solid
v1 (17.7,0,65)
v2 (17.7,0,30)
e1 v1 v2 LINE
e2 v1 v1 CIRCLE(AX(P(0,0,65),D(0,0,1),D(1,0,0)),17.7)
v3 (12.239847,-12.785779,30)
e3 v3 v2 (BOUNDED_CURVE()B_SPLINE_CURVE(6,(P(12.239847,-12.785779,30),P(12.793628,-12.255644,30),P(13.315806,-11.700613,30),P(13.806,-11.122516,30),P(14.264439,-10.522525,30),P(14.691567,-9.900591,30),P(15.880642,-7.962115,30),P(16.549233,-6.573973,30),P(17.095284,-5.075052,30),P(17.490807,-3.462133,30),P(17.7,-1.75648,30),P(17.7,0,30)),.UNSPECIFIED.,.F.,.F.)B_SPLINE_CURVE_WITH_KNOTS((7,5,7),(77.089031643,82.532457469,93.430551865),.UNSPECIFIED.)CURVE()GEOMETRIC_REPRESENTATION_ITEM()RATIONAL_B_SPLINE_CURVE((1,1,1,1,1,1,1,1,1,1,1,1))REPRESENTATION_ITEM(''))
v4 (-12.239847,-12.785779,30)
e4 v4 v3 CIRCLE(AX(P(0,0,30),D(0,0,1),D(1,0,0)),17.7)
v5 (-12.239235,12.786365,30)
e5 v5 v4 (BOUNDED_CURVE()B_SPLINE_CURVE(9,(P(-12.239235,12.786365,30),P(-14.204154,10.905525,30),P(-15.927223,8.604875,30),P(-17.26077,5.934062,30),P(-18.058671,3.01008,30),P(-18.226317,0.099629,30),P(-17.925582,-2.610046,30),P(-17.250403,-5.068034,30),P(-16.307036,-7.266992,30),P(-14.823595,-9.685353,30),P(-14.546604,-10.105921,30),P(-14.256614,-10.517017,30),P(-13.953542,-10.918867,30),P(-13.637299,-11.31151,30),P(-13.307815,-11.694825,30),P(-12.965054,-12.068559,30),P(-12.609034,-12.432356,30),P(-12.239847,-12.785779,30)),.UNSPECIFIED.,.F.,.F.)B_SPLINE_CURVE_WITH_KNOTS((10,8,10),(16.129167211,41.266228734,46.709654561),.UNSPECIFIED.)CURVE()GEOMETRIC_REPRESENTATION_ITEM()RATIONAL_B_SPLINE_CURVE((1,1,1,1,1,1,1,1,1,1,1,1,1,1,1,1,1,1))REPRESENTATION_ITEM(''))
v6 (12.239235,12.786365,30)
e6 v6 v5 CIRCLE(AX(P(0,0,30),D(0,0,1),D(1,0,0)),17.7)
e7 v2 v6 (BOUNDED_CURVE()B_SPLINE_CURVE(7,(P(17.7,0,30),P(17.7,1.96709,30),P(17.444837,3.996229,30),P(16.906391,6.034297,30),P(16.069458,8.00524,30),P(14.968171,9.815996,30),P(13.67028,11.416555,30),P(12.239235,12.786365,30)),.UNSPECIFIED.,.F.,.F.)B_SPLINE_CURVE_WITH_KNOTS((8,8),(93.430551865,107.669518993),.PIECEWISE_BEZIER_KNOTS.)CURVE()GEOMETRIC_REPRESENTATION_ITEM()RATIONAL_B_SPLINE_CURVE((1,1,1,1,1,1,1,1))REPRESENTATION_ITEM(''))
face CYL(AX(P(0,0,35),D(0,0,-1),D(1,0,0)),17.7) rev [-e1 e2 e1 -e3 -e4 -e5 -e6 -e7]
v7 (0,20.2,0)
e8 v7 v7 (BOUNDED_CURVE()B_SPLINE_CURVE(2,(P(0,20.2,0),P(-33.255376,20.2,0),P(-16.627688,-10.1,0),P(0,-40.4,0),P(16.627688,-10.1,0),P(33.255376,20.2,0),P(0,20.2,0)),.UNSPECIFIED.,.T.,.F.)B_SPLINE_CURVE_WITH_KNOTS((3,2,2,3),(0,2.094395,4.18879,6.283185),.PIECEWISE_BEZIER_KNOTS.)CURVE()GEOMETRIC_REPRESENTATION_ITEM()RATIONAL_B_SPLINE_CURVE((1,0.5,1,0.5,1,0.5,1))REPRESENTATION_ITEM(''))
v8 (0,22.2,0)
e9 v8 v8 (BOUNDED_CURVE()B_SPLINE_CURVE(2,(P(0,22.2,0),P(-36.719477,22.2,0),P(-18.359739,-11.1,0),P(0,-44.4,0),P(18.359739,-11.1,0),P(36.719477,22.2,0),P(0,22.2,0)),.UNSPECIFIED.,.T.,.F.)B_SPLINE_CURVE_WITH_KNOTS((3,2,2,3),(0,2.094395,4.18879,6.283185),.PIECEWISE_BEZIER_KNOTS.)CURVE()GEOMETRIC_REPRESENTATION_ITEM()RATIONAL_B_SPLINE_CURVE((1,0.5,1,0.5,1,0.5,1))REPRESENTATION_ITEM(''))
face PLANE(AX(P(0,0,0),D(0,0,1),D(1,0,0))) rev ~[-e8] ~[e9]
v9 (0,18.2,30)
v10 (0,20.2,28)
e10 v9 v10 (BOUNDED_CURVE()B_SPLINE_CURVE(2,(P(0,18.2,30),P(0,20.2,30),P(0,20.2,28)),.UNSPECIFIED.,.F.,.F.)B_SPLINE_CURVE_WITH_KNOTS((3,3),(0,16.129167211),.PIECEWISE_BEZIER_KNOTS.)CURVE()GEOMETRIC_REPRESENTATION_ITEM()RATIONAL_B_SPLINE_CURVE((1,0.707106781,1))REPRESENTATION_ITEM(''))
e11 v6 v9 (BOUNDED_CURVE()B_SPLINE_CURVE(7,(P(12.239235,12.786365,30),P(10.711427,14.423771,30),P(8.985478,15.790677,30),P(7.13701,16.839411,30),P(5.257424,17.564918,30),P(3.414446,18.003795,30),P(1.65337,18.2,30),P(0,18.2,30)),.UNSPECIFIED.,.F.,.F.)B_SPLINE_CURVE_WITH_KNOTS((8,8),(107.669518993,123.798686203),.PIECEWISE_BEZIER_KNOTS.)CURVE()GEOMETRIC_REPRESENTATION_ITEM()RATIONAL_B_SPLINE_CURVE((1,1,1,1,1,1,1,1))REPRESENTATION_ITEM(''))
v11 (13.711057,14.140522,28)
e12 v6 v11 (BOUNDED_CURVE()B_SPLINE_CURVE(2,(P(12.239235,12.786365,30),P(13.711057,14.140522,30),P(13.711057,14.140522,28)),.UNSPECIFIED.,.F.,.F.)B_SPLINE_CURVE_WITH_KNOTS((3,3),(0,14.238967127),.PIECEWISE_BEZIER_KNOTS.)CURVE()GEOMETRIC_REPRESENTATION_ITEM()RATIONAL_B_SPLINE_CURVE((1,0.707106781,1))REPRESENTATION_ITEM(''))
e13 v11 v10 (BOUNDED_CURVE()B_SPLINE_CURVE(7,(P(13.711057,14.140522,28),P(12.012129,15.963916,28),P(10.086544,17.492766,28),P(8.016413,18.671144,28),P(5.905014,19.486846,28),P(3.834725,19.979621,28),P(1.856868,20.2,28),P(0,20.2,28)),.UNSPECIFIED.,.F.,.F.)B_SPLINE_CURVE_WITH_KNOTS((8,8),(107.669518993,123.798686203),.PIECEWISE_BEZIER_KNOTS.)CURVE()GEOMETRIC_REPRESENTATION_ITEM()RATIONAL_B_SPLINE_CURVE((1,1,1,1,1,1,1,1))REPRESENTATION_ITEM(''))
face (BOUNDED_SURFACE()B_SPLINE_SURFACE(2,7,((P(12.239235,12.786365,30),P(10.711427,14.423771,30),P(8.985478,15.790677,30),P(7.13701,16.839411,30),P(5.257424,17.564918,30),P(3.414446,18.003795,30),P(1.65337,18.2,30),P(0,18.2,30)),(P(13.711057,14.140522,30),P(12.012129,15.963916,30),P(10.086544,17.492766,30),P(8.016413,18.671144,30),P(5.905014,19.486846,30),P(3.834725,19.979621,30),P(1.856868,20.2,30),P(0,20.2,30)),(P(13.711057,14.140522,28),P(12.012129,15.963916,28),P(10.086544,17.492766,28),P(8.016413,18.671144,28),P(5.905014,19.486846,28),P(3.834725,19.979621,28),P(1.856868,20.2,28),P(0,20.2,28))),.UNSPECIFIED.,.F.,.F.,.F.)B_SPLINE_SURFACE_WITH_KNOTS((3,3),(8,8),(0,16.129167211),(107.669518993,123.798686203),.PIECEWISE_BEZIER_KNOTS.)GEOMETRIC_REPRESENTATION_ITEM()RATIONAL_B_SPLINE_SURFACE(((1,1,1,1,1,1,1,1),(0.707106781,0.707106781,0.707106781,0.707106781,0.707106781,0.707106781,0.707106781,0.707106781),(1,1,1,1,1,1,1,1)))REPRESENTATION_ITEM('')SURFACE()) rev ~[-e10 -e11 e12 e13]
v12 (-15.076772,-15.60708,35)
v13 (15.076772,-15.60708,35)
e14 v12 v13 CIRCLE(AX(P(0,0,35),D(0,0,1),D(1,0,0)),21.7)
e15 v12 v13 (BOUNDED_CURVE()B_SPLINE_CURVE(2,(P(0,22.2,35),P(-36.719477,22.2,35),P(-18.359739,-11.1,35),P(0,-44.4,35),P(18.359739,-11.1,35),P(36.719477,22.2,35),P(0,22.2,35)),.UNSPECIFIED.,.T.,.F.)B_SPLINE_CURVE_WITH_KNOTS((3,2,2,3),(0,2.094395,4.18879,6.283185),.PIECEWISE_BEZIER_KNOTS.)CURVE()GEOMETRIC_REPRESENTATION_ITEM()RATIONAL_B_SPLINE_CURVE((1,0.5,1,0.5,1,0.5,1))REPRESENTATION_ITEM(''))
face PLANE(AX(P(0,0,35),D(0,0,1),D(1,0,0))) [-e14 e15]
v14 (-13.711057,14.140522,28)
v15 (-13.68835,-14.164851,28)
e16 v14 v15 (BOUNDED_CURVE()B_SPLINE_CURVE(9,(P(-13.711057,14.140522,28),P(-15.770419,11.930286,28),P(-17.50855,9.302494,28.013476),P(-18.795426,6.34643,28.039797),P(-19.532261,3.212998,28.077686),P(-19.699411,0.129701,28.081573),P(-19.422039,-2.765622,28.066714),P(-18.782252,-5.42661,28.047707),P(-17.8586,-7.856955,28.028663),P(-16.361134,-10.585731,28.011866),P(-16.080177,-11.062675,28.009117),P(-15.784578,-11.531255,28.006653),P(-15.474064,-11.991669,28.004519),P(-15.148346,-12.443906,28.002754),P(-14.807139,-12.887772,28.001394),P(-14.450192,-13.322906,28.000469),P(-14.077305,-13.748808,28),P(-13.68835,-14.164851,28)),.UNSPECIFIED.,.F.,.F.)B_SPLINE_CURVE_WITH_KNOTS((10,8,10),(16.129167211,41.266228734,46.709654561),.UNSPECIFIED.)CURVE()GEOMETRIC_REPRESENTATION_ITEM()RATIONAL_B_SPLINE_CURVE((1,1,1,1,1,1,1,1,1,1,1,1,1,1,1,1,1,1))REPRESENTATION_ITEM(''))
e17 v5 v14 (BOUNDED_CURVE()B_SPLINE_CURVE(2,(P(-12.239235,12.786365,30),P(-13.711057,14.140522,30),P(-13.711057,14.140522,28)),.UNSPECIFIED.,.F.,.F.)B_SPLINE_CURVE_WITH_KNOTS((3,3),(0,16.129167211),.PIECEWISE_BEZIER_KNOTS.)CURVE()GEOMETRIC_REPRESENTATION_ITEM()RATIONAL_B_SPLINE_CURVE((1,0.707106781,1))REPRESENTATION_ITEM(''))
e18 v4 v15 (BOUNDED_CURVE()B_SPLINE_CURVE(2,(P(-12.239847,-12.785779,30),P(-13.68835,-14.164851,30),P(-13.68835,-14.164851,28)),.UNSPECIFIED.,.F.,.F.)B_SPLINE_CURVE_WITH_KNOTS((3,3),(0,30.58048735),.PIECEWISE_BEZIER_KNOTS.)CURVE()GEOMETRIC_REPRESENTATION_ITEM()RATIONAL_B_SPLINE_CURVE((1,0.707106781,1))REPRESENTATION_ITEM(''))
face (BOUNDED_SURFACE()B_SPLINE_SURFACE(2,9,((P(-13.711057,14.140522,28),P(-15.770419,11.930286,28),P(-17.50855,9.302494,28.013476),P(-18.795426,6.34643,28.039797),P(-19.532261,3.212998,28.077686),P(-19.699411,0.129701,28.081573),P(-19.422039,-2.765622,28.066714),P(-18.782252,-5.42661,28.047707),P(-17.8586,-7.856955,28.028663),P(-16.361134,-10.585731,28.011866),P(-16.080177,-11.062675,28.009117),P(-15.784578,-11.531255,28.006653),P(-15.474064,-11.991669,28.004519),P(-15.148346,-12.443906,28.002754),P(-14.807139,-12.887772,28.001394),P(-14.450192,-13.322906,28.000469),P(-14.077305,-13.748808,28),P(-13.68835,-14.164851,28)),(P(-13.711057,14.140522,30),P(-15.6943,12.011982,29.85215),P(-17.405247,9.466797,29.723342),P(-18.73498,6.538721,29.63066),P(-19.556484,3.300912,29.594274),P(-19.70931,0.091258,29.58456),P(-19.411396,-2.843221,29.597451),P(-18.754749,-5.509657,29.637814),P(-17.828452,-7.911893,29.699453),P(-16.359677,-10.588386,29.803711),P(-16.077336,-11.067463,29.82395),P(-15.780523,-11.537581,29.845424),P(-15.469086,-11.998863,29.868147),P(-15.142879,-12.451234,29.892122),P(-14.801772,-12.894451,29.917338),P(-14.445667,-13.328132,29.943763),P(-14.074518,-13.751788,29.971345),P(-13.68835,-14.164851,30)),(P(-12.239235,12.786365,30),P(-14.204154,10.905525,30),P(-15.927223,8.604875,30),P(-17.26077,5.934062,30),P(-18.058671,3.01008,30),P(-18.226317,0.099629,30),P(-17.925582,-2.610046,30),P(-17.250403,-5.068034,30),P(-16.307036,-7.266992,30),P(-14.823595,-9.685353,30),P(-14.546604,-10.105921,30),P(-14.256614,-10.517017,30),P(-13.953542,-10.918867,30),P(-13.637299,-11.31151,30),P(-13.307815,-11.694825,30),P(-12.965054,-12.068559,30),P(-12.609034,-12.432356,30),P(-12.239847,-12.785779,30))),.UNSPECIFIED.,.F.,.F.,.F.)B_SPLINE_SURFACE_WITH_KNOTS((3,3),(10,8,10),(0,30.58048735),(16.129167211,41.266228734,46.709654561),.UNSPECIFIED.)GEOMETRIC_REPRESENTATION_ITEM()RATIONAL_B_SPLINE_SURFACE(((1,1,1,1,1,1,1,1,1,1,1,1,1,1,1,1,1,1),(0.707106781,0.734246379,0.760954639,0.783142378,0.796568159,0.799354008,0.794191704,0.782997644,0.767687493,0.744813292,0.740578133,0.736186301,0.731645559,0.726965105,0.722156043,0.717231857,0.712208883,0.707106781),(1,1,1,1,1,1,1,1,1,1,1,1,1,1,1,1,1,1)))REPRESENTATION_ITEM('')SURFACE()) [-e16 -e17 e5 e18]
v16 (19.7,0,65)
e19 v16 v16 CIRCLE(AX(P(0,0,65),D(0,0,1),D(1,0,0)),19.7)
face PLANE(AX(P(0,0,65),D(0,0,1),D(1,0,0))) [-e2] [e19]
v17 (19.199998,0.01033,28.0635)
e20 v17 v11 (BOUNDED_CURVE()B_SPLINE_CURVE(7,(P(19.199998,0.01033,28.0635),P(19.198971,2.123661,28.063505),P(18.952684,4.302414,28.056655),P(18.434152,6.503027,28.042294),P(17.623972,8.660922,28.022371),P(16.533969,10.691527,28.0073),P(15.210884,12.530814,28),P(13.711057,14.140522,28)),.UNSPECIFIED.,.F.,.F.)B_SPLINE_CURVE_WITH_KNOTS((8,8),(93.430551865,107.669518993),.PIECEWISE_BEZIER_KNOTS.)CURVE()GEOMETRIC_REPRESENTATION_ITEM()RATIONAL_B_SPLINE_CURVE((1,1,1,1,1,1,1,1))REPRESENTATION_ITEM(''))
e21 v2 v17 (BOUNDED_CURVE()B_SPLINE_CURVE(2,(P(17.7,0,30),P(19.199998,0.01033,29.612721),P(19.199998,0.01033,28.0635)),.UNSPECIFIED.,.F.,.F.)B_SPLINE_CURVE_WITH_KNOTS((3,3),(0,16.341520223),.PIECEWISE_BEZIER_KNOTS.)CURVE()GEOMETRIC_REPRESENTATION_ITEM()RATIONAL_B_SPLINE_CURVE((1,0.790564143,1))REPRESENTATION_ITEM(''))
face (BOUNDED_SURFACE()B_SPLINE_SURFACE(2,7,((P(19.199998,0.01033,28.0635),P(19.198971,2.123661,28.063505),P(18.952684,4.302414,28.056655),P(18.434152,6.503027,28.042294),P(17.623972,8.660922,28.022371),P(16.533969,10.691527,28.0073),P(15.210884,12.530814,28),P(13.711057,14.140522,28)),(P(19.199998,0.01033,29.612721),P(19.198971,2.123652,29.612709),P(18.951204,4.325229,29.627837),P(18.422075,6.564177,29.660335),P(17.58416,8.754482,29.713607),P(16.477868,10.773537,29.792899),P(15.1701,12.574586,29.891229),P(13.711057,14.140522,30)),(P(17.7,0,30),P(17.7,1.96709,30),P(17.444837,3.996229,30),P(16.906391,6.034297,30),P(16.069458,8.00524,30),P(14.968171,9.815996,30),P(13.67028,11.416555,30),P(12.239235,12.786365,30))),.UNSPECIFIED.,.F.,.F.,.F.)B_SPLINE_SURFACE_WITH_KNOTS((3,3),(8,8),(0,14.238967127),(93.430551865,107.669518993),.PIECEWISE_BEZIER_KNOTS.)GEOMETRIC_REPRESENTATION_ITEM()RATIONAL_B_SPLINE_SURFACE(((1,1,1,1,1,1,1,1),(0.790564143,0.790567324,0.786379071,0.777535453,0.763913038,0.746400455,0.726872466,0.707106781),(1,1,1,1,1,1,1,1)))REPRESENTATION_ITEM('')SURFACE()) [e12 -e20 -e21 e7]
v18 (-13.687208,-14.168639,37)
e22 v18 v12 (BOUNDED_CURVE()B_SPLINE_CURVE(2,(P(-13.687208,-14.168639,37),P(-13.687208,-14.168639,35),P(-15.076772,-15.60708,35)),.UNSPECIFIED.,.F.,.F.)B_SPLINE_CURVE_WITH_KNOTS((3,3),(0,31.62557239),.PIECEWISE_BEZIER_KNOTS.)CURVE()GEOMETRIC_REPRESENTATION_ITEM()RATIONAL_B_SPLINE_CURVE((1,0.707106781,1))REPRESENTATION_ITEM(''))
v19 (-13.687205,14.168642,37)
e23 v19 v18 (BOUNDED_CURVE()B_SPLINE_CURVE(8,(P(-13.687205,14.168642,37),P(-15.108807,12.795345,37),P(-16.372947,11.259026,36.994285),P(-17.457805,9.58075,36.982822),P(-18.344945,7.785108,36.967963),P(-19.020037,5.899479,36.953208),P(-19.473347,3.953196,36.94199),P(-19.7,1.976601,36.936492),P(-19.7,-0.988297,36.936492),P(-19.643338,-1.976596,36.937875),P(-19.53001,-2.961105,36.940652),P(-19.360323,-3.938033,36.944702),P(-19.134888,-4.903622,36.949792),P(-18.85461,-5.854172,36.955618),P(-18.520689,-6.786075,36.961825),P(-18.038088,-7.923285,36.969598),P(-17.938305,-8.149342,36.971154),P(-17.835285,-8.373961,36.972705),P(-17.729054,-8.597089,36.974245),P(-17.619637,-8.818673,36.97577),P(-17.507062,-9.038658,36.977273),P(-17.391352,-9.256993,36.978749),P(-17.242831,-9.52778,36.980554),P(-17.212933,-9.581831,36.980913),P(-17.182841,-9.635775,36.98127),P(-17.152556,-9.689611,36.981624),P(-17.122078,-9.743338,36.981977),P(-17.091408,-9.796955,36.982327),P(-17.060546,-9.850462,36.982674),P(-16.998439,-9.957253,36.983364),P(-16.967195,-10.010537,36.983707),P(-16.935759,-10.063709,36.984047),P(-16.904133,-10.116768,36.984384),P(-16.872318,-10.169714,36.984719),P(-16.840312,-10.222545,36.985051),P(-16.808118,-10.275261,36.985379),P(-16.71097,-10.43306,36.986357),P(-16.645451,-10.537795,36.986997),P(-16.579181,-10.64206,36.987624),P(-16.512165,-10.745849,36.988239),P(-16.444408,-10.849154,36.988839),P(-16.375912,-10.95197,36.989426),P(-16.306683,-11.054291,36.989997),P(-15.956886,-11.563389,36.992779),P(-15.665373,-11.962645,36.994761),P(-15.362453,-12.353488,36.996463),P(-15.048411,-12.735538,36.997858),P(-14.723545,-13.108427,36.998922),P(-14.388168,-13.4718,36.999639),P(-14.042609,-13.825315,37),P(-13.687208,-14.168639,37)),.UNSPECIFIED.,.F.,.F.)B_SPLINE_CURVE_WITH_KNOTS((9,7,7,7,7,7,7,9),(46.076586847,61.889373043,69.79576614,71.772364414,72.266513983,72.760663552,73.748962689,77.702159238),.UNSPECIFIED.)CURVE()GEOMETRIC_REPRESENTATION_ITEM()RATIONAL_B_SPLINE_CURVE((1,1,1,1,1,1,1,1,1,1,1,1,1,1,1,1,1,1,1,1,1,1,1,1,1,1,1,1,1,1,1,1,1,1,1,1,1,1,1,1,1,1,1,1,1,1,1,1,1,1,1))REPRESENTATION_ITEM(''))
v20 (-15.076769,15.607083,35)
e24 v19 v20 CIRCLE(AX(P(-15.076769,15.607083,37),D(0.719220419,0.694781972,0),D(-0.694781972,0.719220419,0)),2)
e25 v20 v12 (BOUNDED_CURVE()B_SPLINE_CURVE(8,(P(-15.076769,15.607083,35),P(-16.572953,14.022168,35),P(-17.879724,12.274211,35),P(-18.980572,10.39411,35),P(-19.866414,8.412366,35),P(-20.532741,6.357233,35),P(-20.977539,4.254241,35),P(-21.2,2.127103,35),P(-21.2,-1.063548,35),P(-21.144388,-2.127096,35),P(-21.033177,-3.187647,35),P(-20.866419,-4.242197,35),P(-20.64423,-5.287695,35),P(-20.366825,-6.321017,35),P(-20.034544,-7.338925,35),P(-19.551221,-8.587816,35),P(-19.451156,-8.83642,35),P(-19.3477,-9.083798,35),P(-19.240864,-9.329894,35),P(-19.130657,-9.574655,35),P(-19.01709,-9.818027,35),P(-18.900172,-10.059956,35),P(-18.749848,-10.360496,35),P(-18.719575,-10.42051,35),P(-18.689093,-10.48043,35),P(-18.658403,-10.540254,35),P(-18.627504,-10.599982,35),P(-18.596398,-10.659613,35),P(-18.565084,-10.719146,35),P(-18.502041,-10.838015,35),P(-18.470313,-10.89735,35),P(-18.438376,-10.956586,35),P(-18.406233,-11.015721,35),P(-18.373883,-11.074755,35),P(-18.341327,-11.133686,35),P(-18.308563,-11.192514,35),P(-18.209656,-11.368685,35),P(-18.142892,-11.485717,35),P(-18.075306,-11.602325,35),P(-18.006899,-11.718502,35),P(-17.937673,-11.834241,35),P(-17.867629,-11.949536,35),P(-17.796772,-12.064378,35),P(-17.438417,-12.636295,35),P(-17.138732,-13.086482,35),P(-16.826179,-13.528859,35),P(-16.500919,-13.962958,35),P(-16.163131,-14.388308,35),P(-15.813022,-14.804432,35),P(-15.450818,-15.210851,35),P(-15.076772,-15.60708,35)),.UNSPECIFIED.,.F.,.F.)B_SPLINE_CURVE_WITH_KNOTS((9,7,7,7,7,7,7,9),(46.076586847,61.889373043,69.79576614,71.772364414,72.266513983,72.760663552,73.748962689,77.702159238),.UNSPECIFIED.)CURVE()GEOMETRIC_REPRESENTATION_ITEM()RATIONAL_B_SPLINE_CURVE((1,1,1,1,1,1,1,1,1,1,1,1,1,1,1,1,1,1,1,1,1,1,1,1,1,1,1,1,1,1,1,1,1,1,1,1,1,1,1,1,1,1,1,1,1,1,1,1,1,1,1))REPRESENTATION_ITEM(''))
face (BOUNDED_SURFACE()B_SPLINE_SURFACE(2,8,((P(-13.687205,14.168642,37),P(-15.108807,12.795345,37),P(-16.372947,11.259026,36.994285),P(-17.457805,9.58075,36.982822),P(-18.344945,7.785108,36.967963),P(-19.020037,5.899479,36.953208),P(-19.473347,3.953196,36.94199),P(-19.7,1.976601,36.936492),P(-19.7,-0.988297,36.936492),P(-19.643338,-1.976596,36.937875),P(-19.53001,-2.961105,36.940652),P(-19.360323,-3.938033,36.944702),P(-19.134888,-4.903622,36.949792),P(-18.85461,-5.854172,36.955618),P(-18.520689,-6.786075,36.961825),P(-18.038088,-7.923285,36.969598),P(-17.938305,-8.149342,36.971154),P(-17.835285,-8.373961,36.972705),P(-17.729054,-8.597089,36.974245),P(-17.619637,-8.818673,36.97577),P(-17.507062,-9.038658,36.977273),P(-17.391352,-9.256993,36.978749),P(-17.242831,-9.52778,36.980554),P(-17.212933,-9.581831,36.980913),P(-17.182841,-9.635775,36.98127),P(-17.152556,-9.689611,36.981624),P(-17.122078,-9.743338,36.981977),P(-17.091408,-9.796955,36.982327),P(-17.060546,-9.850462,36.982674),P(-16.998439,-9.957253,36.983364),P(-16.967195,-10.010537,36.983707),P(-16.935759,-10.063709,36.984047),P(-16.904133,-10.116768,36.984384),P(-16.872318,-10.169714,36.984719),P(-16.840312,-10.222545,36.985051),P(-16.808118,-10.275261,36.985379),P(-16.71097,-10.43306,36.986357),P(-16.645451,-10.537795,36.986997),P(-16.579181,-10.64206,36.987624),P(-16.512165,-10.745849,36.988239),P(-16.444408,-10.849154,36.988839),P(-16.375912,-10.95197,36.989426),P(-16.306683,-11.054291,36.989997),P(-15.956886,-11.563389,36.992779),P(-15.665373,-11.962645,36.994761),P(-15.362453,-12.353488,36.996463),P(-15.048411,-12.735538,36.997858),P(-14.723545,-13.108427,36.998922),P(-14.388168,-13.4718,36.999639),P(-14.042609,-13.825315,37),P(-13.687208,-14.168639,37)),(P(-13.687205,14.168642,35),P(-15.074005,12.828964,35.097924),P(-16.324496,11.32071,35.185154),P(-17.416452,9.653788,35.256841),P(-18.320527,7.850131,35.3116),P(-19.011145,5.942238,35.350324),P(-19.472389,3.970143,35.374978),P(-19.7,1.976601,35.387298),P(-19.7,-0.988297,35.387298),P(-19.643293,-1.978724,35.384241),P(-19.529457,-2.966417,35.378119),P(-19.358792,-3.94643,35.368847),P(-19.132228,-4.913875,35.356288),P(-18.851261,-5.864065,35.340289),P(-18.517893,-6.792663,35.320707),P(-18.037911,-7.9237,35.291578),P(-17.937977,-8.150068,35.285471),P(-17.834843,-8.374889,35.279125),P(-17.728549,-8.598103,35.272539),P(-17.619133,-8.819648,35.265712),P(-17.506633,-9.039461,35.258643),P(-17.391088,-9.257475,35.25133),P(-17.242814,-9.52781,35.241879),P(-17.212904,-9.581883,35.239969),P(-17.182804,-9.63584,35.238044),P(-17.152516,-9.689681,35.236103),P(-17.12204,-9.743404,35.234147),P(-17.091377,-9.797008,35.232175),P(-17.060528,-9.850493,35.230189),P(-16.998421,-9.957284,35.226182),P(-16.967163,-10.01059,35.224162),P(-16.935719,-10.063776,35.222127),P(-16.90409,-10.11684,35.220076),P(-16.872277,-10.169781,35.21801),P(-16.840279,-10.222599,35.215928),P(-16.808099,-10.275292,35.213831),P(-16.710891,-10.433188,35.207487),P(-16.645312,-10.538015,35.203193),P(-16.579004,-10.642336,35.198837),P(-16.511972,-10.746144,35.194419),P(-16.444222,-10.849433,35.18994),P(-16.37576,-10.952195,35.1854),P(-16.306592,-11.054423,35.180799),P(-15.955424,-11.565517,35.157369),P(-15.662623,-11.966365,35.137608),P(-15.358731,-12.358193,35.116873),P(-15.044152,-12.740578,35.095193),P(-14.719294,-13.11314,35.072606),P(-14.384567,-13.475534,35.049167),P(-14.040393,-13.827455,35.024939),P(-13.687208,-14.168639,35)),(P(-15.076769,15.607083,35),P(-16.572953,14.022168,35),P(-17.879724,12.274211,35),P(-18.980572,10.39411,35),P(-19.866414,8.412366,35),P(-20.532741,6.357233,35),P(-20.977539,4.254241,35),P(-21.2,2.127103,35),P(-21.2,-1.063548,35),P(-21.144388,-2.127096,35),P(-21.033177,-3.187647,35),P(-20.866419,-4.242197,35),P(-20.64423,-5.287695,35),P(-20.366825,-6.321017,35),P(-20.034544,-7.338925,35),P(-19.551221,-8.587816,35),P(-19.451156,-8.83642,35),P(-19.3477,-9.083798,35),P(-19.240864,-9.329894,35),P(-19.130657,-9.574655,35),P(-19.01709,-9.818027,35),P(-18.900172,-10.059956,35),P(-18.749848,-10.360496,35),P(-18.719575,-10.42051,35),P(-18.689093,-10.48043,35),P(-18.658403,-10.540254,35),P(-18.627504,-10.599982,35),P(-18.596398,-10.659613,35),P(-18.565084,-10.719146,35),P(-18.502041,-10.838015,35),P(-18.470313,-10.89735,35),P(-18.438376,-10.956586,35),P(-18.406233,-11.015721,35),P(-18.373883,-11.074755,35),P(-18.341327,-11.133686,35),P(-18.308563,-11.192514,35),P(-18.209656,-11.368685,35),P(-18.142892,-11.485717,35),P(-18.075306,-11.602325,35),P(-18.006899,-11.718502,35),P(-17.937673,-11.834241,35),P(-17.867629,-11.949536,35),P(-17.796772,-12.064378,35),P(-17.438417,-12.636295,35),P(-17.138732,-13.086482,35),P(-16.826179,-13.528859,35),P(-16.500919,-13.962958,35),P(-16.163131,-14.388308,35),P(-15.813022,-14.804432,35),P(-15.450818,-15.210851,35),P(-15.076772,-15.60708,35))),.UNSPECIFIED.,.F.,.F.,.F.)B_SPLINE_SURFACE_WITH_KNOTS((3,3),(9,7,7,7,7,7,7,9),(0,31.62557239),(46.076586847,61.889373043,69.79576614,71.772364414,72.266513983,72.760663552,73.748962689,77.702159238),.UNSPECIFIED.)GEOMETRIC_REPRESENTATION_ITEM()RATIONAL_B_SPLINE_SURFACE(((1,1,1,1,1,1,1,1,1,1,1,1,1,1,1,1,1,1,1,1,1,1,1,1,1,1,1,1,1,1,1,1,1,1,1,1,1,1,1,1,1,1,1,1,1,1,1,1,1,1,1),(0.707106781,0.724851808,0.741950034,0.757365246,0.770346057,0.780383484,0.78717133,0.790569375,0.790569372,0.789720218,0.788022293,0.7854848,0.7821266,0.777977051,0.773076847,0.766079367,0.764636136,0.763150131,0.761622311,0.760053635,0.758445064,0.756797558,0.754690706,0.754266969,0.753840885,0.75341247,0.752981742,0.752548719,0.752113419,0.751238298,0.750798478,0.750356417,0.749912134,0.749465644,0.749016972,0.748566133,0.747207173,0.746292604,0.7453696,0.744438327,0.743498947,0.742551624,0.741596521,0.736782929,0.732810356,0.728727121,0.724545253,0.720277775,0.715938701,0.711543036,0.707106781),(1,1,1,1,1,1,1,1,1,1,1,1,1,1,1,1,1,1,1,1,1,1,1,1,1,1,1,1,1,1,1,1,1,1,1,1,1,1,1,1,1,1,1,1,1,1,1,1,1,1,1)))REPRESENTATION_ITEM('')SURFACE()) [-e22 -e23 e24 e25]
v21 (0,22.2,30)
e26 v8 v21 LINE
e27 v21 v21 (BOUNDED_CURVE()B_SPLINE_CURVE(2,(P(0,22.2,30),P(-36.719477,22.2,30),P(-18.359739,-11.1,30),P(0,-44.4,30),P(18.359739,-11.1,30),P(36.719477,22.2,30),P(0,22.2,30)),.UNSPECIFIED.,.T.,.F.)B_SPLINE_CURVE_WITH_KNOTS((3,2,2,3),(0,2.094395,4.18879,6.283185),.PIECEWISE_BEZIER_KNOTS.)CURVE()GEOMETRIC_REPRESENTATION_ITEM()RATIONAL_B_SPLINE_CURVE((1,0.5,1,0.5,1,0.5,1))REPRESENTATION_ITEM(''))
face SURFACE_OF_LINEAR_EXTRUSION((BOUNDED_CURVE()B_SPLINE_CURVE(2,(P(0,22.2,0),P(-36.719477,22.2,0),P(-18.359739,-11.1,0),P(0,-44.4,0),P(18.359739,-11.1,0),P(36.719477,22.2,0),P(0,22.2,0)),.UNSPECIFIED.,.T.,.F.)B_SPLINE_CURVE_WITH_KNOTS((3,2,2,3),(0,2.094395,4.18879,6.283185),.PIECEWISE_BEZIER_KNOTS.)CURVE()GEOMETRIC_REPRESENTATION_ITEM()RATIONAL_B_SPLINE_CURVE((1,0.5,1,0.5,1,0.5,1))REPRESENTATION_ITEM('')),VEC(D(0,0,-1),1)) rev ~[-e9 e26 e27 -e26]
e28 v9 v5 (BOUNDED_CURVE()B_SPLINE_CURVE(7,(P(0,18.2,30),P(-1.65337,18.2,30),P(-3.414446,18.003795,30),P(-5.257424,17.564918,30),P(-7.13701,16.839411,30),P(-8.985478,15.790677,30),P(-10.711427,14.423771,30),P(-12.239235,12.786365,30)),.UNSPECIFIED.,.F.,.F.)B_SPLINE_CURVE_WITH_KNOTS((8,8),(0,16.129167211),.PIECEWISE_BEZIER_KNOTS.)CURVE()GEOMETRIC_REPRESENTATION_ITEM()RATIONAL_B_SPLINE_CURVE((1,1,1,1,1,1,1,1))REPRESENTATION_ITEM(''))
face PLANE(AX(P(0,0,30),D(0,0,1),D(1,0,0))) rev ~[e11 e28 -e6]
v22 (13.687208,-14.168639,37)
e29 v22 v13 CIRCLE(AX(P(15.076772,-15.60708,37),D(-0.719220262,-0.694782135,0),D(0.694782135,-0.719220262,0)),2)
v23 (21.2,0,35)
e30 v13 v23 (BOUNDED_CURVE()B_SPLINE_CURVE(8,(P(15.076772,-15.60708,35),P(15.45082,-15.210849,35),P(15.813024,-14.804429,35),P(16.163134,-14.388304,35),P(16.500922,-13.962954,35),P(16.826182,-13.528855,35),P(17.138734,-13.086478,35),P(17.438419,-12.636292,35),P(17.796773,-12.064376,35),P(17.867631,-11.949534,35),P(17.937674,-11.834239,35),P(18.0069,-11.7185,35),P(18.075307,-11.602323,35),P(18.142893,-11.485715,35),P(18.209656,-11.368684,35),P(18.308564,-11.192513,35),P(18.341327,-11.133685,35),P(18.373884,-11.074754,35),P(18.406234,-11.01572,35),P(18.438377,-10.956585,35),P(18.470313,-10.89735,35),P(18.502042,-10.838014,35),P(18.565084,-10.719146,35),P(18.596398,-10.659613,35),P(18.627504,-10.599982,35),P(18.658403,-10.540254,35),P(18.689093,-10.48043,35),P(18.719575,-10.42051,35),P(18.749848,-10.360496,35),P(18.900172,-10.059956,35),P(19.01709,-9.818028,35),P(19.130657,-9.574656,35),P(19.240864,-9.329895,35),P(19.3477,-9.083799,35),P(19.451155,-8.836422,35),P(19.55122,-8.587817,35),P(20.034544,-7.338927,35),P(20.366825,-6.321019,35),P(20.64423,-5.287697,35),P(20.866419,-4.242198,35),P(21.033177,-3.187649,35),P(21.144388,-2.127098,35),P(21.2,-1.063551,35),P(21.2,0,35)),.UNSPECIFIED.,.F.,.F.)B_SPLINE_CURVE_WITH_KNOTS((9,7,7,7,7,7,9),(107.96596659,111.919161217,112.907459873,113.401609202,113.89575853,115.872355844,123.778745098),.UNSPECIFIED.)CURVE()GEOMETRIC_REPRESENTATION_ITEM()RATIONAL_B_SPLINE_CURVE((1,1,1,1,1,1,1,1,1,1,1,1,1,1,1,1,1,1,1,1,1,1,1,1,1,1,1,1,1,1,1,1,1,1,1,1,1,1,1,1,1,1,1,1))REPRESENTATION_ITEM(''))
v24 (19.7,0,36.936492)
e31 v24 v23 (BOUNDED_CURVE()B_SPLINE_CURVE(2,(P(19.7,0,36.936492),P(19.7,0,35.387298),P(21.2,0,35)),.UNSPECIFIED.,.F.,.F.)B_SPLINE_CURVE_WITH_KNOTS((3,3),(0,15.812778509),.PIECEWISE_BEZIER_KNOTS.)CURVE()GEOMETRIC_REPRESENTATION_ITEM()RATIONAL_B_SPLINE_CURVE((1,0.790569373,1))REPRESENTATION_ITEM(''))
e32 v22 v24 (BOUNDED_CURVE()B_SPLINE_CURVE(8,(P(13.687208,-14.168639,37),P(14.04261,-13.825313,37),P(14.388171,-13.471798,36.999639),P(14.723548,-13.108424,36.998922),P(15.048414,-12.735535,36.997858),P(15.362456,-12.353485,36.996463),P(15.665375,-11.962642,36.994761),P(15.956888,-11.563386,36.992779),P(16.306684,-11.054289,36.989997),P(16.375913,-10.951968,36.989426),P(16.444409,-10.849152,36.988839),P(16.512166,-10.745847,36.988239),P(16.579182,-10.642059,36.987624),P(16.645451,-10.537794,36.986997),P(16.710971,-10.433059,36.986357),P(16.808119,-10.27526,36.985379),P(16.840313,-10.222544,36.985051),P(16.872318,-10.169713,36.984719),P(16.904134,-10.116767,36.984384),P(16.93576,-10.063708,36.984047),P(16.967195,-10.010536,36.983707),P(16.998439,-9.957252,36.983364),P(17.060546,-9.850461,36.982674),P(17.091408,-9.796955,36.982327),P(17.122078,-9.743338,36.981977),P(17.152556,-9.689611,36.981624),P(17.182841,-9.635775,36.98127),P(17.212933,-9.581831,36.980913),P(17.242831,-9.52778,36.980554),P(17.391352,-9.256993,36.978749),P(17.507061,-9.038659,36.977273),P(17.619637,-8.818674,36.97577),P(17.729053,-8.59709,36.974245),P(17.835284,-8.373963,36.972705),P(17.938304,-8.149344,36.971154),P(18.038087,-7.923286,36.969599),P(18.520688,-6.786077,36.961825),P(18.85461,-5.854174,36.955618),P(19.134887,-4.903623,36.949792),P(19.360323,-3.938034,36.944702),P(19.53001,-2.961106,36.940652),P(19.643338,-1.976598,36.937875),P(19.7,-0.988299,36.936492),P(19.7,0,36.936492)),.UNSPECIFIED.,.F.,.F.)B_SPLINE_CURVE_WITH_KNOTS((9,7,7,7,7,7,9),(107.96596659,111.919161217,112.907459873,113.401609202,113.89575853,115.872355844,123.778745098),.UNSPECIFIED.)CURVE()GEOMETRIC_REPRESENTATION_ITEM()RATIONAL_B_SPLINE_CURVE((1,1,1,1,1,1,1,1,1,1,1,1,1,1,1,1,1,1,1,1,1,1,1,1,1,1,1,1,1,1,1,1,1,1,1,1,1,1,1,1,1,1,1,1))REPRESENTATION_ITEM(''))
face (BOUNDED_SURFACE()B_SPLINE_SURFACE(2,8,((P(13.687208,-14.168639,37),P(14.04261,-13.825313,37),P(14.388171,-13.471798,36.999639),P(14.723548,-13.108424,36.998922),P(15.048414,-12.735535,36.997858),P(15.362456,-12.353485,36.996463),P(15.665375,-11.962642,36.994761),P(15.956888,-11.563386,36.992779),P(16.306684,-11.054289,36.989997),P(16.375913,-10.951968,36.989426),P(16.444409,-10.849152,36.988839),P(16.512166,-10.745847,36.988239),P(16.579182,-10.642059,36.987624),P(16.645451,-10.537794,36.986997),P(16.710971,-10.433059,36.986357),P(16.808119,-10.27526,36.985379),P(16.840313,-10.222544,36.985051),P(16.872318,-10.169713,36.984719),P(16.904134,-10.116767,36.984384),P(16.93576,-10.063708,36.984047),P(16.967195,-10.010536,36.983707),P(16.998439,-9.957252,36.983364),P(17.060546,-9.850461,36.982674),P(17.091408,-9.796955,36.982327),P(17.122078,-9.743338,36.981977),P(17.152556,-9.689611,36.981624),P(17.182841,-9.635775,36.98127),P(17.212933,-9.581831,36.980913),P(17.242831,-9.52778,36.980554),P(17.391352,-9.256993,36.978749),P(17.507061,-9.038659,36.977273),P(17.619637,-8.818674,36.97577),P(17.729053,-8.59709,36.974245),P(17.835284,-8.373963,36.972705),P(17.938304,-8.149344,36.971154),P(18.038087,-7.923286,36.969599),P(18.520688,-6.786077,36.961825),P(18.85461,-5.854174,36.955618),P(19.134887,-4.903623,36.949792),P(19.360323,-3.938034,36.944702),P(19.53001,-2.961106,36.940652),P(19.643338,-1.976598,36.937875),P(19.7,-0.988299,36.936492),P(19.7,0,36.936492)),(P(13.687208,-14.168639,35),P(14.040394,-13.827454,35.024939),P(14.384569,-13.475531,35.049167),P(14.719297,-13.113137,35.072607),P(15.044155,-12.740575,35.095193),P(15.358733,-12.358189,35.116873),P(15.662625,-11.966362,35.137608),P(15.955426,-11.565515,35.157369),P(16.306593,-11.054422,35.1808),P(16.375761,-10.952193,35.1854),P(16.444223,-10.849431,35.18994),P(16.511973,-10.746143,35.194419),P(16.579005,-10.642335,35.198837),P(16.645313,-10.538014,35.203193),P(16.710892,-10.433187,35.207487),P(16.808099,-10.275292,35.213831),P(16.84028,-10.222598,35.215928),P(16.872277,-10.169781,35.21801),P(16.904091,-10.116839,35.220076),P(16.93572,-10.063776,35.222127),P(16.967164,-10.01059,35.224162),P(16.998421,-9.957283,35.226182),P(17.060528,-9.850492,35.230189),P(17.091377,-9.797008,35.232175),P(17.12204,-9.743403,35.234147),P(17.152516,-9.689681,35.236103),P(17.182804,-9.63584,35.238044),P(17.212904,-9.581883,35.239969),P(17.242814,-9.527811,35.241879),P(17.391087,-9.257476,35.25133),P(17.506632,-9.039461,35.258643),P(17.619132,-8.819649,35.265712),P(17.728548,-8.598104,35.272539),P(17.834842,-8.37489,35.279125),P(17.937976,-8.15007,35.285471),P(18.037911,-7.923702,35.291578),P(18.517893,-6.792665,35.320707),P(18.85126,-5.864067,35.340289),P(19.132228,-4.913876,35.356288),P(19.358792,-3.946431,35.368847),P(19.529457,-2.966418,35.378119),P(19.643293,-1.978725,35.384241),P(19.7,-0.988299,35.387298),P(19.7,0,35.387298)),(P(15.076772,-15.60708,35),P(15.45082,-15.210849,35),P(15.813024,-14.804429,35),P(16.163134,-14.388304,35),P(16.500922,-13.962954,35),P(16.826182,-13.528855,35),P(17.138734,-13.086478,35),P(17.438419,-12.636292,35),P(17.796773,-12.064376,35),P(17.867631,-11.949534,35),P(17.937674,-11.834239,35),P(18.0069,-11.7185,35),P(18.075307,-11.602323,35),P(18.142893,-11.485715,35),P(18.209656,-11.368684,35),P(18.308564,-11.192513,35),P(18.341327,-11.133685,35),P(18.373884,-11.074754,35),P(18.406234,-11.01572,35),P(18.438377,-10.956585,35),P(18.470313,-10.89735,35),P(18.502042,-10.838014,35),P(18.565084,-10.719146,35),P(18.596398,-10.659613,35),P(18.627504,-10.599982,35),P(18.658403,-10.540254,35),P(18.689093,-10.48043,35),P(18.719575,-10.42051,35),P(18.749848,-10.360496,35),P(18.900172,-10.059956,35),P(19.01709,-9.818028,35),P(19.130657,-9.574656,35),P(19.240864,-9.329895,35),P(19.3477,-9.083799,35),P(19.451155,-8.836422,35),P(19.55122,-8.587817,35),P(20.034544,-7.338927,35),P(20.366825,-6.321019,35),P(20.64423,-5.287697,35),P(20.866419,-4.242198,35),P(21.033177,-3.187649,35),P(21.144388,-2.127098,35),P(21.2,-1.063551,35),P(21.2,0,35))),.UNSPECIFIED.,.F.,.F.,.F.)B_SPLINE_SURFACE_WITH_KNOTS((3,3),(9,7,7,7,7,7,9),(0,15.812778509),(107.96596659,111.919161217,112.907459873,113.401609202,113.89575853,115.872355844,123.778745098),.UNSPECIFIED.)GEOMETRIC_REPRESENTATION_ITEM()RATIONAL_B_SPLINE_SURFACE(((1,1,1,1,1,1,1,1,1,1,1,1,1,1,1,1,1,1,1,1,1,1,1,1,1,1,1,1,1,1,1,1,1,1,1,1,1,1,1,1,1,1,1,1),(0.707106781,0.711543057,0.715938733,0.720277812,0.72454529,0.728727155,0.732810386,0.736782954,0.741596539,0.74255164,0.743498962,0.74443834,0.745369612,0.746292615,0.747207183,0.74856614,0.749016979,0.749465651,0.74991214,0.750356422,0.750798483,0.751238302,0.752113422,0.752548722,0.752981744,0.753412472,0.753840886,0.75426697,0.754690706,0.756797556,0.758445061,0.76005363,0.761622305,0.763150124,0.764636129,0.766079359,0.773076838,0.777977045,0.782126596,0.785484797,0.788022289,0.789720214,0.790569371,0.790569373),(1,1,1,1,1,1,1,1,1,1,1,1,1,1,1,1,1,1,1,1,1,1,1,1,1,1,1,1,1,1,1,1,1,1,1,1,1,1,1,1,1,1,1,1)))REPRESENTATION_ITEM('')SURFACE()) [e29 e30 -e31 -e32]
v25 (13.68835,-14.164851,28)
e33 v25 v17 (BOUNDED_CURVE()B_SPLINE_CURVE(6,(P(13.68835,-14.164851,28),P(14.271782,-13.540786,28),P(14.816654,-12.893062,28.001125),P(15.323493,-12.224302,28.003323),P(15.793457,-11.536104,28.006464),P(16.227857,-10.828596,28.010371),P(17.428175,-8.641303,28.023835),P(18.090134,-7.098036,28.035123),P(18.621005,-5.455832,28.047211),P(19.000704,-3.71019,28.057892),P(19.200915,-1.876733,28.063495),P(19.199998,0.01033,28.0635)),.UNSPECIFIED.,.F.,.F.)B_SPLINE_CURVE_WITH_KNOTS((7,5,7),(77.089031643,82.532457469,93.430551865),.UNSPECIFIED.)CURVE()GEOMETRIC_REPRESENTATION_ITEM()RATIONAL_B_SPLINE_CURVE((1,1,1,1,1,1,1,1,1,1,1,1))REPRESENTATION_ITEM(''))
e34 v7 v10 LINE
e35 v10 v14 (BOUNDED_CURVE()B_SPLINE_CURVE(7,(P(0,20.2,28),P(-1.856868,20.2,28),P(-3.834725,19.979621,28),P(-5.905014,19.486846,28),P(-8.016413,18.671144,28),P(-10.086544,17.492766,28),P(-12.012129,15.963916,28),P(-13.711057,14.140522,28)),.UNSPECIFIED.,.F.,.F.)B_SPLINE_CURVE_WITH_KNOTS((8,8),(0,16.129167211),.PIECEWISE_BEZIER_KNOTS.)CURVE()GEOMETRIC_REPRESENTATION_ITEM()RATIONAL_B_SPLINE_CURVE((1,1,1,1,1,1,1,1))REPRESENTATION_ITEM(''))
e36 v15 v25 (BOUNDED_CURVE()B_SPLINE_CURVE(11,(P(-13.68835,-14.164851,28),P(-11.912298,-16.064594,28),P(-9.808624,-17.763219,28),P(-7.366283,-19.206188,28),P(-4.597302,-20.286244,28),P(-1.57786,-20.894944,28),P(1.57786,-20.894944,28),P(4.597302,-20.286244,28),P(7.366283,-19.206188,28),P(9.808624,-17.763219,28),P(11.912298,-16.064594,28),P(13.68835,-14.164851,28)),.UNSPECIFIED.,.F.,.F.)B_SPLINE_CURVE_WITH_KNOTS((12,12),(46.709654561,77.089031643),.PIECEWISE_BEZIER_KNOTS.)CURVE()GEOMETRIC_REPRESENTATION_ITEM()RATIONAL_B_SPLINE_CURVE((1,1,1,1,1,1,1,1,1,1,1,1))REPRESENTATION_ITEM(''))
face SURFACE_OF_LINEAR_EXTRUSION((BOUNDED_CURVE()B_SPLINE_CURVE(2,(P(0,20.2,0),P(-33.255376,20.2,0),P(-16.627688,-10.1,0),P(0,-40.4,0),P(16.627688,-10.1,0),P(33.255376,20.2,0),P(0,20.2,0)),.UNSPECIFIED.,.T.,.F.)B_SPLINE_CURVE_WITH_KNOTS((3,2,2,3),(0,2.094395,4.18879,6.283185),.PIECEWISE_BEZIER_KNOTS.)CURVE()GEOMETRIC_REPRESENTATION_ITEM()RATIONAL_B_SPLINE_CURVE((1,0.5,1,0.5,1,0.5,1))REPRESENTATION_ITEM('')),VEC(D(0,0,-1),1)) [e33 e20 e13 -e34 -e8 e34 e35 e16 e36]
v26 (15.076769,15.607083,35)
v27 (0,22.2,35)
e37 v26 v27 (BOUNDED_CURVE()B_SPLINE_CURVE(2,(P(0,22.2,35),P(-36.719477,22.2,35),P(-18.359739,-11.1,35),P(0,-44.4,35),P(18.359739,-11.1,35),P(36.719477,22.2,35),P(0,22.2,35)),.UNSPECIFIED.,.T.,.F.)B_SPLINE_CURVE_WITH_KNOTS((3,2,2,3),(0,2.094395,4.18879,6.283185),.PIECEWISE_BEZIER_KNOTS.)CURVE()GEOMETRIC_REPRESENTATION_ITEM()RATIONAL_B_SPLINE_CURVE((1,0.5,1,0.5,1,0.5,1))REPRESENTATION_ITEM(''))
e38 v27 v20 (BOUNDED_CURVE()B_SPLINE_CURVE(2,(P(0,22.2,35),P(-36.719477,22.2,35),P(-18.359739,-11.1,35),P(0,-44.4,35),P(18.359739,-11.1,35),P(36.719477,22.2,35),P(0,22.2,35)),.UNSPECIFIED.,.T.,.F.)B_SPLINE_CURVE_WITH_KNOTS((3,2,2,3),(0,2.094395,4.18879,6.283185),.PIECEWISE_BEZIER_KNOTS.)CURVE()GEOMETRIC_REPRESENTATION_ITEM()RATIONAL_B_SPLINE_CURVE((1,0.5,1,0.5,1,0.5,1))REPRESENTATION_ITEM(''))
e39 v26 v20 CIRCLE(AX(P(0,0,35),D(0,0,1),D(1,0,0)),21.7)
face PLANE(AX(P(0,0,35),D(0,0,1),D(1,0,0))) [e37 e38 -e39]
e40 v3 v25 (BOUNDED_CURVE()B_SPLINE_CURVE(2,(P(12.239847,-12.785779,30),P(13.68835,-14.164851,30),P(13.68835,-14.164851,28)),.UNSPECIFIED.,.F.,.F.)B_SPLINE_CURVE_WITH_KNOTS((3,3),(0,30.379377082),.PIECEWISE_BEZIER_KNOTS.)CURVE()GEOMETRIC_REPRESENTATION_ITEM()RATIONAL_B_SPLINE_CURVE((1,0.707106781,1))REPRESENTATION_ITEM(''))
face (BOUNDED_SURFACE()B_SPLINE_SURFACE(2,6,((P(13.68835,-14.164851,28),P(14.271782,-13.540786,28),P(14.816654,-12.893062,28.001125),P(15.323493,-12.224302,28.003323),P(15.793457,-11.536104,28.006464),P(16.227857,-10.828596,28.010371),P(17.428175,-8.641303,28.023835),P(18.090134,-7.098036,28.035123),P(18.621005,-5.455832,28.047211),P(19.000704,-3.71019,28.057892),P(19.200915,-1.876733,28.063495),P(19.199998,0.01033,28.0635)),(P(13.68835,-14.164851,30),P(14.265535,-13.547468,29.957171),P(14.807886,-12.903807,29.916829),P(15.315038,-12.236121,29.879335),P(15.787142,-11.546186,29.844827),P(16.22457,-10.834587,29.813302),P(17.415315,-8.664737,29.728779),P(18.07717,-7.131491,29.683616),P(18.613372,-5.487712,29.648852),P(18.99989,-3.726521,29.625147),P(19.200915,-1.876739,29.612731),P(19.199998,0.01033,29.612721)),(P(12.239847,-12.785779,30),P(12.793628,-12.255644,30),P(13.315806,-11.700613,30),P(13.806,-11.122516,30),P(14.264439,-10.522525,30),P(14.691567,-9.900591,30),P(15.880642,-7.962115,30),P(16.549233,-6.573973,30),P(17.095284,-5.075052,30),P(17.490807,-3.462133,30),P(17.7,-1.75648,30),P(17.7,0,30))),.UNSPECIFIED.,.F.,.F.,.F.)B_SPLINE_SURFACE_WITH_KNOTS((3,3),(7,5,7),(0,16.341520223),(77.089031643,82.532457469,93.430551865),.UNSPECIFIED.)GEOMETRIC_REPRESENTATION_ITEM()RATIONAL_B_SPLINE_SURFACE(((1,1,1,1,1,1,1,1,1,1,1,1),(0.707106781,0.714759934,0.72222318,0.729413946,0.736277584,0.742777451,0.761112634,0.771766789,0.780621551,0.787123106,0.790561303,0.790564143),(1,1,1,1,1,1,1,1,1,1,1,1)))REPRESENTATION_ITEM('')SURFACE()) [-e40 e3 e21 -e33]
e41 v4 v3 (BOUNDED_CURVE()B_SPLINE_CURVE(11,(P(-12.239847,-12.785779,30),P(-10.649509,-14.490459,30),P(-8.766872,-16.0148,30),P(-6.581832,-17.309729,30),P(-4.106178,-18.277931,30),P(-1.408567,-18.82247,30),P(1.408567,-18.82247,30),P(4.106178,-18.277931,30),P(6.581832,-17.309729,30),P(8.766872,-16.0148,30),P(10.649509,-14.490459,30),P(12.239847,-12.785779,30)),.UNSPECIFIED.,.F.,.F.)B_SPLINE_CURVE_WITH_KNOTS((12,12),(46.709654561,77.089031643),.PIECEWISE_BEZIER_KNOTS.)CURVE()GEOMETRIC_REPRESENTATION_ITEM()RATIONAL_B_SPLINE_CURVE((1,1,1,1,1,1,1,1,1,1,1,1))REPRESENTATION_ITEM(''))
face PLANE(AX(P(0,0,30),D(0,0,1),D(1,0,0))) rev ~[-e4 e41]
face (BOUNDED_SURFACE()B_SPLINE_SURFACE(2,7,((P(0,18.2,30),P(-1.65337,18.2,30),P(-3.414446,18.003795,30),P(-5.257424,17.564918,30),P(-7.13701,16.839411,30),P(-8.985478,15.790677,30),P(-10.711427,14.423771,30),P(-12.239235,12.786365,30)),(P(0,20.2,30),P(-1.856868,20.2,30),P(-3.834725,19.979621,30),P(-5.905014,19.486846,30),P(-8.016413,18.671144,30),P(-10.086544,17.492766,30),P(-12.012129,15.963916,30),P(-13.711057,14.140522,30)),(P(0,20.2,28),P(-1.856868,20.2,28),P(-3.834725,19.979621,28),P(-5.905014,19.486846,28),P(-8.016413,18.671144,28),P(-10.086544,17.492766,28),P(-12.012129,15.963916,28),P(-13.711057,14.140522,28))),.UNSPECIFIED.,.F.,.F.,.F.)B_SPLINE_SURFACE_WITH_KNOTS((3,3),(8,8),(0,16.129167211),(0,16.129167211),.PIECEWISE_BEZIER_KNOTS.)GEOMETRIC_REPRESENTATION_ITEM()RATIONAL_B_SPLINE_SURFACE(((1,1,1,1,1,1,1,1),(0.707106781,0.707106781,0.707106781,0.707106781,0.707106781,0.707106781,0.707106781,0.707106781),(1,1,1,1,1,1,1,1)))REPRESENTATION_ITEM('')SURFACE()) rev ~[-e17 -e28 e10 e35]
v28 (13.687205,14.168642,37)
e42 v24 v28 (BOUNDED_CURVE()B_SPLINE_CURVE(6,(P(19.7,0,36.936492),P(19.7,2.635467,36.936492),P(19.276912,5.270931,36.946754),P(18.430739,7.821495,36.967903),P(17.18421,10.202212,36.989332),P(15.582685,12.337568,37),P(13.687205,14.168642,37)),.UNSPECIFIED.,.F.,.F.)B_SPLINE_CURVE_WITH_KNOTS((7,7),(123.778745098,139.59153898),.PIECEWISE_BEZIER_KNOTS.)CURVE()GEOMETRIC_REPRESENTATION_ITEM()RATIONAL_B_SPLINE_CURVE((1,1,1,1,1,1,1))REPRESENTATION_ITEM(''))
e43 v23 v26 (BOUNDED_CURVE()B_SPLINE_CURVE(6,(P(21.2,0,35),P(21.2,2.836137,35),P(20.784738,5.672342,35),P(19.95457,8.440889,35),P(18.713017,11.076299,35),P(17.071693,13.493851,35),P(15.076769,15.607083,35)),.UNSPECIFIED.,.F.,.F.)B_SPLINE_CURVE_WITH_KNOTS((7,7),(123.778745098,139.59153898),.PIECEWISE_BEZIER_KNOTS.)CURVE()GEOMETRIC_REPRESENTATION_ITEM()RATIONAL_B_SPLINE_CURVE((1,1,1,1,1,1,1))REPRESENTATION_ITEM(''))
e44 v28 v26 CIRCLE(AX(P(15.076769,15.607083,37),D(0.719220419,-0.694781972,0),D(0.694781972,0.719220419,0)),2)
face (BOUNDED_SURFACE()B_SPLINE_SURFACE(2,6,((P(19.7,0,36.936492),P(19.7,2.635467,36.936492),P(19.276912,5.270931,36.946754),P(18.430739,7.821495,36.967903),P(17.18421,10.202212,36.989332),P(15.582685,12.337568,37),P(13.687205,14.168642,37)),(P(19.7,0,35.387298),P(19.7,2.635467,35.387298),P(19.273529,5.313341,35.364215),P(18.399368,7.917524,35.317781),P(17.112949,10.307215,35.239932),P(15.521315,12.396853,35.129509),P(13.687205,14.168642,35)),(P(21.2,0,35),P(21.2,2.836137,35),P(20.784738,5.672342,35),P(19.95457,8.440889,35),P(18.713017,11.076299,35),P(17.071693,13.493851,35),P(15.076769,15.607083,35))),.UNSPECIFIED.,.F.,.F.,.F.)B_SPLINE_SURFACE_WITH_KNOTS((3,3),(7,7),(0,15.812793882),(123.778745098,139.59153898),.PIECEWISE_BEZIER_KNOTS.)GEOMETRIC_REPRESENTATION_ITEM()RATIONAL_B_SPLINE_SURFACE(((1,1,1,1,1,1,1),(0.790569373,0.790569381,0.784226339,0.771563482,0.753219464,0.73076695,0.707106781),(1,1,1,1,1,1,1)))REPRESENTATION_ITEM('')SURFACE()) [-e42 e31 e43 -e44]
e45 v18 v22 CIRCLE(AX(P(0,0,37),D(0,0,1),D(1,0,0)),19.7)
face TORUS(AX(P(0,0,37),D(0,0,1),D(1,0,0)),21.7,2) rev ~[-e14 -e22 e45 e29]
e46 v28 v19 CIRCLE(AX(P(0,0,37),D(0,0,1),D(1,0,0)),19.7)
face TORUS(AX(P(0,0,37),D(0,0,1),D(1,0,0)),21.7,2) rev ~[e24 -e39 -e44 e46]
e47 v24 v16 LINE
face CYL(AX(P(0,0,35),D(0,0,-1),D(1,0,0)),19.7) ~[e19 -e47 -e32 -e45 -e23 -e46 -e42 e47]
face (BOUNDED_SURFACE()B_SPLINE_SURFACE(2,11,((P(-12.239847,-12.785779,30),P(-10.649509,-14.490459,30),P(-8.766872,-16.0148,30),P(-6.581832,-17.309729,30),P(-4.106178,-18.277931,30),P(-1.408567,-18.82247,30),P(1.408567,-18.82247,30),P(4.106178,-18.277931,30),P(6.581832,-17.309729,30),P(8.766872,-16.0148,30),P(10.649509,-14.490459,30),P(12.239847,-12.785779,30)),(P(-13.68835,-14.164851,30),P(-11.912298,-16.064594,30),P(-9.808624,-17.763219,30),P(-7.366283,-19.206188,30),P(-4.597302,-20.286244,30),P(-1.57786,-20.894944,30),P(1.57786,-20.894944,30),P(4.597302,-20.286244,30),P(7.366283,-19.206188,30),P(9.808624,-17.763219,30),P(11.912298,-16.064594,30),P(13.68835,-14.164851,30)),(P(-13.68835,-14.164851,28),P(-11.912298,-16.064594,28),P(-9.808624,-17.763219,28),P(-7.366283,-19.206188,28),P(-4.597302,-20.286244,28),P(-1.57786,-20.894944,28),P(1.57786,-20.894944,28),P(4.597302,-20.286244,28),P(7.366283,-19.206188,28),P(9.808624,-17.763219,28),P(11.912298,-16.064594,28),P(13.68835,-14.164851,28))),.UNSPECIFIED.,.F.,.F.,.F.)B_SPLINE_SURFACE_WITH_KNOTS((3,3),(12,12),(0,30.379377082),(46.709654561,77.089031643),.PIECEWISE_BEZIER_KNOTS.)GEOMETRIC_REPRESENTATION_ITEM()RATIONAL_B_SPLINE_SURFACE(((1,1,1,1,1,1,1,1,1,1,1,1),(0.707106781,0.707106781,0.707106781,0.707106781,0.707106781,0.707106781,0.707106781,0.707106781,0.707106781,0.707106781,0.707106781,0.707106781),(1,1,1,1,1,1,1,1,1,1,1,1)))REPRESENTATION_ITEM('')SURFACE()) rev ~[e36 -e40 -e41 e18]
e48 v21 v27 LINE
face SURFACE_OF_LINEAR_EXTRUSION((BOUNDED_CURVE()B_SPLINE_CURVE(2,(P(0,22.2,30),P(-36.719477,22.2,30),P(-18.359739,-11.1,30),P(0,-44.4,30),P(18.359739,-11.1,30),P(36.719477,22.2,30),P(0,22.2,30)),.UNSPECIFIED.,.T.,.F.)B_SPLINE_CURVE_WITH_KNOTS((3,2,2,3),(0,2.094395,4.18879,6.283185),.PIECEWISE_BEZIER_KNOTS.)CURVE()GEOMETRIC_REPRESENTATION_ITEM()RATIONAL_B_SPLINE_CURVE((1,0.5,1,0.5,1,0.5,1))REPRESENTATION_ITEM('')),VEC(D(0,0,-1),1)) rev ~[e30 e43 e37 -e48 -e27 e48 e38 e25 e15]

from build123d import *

# Parameters (mm, degrees)
PAD_DEPTH     = 30
SKETCH001_R   = 17.7
PAD001_DEPTH  = 5
SKETCH002_R   = 19.7
SKETCH002_R_2 = 17.7
PAD002_DEPTH  = 30
FILLET_R      = 2
FILLET001_R   = 2


with BuildPart() as part:
    # Sketch → Pad (new body)
    with BuildSketch(Plane.XY):
        with BuildLine():
            add(Edge.make_bspline(
                [(0, 22.2), (-36.719477, 22.2), (-18.359739, -11.1), (0, -44.4), (18.359739, -11.1), (36.719477, 22.2), (0, 22.2)],
                knots=[0, 0, 0, 2.094395, 2.094395, 4.18879, 4.18879, 6.283185, 6.283185, 6.283185], degree=2, weights=[1, 0.5, 1, 0.5, 1, 0.5, 1]))
        make_face()
        with BuildLine():
            add(Edge.make_bspline(
                [(0, 20.2), (-33.255376, 20.2), (-16.627688, -10.1), (0, -40.4), (16.627688, -10.1), (33.255376, 20.2), (0, 20.2)],
                knots=[0, 0, 0, 2.094395, 2.094395, 4.18879, 4.18879, 6.283185, 6.283185, 6.283185], degree=2, weights=[1, 0.5, 1, 0.5, 1, 0.5, 1]))
        make_face(mode=Mode.SUBTRACT)
    extrude(amount=PAD_DEPTH)

    # Sketch001 (on Face4 of Pad) → Pad001 (join)
    with BuildSketch(Plane.XY.offset(30)):
        with BuildLine():
            add(Edge.make_bspline(
                [(0, 22.2), (-36.719477, 22.2), (-18.359739, -11.1), (0, -44.4), (18.359739, -11.1), (36.719477, 22.2), (0, 22.2)],
                knots=[0, 0, 0, 2.094395, 2.094395, 4.18879, 4.18879, 6.283185, 6.283185, 6.283185], degree=2, weights=[1, 0.5, 1, 0.5, 1, 0.5, 1]))
        make_face()
        Circle(SKETCH001_R, mode=Mode.SUBTRACT)
    extrude(amount=PAD001_DEPTH)

    # Sketch002 (on Face5 of Pad001) → Pad002 (join)
    with BuildSketch(Plane.XY.offset(35)):
        Circle(SKETCH002_R)
        Circle(SKETCH002_R_2, mode=Mode.SUBTRACT)
    extrude(amount=PAD002_DEPTH)

    # Fillet
    fillet_edges = [part.edges().sort_by_distance(p)[0] for p in [
        (3.7e-05, -20.2, 30),
    ]]
    fillet(fillet_edges, radius=FILLET_R)

    # Fillet001
    fillet001_edges = [part.edges().sort_by_distance(p)[0] for p in [
        (-19.7, 0, 35),
    ]]
    fillet(fillet001_edges, radius=FILLET001_R)


solid = part.part
